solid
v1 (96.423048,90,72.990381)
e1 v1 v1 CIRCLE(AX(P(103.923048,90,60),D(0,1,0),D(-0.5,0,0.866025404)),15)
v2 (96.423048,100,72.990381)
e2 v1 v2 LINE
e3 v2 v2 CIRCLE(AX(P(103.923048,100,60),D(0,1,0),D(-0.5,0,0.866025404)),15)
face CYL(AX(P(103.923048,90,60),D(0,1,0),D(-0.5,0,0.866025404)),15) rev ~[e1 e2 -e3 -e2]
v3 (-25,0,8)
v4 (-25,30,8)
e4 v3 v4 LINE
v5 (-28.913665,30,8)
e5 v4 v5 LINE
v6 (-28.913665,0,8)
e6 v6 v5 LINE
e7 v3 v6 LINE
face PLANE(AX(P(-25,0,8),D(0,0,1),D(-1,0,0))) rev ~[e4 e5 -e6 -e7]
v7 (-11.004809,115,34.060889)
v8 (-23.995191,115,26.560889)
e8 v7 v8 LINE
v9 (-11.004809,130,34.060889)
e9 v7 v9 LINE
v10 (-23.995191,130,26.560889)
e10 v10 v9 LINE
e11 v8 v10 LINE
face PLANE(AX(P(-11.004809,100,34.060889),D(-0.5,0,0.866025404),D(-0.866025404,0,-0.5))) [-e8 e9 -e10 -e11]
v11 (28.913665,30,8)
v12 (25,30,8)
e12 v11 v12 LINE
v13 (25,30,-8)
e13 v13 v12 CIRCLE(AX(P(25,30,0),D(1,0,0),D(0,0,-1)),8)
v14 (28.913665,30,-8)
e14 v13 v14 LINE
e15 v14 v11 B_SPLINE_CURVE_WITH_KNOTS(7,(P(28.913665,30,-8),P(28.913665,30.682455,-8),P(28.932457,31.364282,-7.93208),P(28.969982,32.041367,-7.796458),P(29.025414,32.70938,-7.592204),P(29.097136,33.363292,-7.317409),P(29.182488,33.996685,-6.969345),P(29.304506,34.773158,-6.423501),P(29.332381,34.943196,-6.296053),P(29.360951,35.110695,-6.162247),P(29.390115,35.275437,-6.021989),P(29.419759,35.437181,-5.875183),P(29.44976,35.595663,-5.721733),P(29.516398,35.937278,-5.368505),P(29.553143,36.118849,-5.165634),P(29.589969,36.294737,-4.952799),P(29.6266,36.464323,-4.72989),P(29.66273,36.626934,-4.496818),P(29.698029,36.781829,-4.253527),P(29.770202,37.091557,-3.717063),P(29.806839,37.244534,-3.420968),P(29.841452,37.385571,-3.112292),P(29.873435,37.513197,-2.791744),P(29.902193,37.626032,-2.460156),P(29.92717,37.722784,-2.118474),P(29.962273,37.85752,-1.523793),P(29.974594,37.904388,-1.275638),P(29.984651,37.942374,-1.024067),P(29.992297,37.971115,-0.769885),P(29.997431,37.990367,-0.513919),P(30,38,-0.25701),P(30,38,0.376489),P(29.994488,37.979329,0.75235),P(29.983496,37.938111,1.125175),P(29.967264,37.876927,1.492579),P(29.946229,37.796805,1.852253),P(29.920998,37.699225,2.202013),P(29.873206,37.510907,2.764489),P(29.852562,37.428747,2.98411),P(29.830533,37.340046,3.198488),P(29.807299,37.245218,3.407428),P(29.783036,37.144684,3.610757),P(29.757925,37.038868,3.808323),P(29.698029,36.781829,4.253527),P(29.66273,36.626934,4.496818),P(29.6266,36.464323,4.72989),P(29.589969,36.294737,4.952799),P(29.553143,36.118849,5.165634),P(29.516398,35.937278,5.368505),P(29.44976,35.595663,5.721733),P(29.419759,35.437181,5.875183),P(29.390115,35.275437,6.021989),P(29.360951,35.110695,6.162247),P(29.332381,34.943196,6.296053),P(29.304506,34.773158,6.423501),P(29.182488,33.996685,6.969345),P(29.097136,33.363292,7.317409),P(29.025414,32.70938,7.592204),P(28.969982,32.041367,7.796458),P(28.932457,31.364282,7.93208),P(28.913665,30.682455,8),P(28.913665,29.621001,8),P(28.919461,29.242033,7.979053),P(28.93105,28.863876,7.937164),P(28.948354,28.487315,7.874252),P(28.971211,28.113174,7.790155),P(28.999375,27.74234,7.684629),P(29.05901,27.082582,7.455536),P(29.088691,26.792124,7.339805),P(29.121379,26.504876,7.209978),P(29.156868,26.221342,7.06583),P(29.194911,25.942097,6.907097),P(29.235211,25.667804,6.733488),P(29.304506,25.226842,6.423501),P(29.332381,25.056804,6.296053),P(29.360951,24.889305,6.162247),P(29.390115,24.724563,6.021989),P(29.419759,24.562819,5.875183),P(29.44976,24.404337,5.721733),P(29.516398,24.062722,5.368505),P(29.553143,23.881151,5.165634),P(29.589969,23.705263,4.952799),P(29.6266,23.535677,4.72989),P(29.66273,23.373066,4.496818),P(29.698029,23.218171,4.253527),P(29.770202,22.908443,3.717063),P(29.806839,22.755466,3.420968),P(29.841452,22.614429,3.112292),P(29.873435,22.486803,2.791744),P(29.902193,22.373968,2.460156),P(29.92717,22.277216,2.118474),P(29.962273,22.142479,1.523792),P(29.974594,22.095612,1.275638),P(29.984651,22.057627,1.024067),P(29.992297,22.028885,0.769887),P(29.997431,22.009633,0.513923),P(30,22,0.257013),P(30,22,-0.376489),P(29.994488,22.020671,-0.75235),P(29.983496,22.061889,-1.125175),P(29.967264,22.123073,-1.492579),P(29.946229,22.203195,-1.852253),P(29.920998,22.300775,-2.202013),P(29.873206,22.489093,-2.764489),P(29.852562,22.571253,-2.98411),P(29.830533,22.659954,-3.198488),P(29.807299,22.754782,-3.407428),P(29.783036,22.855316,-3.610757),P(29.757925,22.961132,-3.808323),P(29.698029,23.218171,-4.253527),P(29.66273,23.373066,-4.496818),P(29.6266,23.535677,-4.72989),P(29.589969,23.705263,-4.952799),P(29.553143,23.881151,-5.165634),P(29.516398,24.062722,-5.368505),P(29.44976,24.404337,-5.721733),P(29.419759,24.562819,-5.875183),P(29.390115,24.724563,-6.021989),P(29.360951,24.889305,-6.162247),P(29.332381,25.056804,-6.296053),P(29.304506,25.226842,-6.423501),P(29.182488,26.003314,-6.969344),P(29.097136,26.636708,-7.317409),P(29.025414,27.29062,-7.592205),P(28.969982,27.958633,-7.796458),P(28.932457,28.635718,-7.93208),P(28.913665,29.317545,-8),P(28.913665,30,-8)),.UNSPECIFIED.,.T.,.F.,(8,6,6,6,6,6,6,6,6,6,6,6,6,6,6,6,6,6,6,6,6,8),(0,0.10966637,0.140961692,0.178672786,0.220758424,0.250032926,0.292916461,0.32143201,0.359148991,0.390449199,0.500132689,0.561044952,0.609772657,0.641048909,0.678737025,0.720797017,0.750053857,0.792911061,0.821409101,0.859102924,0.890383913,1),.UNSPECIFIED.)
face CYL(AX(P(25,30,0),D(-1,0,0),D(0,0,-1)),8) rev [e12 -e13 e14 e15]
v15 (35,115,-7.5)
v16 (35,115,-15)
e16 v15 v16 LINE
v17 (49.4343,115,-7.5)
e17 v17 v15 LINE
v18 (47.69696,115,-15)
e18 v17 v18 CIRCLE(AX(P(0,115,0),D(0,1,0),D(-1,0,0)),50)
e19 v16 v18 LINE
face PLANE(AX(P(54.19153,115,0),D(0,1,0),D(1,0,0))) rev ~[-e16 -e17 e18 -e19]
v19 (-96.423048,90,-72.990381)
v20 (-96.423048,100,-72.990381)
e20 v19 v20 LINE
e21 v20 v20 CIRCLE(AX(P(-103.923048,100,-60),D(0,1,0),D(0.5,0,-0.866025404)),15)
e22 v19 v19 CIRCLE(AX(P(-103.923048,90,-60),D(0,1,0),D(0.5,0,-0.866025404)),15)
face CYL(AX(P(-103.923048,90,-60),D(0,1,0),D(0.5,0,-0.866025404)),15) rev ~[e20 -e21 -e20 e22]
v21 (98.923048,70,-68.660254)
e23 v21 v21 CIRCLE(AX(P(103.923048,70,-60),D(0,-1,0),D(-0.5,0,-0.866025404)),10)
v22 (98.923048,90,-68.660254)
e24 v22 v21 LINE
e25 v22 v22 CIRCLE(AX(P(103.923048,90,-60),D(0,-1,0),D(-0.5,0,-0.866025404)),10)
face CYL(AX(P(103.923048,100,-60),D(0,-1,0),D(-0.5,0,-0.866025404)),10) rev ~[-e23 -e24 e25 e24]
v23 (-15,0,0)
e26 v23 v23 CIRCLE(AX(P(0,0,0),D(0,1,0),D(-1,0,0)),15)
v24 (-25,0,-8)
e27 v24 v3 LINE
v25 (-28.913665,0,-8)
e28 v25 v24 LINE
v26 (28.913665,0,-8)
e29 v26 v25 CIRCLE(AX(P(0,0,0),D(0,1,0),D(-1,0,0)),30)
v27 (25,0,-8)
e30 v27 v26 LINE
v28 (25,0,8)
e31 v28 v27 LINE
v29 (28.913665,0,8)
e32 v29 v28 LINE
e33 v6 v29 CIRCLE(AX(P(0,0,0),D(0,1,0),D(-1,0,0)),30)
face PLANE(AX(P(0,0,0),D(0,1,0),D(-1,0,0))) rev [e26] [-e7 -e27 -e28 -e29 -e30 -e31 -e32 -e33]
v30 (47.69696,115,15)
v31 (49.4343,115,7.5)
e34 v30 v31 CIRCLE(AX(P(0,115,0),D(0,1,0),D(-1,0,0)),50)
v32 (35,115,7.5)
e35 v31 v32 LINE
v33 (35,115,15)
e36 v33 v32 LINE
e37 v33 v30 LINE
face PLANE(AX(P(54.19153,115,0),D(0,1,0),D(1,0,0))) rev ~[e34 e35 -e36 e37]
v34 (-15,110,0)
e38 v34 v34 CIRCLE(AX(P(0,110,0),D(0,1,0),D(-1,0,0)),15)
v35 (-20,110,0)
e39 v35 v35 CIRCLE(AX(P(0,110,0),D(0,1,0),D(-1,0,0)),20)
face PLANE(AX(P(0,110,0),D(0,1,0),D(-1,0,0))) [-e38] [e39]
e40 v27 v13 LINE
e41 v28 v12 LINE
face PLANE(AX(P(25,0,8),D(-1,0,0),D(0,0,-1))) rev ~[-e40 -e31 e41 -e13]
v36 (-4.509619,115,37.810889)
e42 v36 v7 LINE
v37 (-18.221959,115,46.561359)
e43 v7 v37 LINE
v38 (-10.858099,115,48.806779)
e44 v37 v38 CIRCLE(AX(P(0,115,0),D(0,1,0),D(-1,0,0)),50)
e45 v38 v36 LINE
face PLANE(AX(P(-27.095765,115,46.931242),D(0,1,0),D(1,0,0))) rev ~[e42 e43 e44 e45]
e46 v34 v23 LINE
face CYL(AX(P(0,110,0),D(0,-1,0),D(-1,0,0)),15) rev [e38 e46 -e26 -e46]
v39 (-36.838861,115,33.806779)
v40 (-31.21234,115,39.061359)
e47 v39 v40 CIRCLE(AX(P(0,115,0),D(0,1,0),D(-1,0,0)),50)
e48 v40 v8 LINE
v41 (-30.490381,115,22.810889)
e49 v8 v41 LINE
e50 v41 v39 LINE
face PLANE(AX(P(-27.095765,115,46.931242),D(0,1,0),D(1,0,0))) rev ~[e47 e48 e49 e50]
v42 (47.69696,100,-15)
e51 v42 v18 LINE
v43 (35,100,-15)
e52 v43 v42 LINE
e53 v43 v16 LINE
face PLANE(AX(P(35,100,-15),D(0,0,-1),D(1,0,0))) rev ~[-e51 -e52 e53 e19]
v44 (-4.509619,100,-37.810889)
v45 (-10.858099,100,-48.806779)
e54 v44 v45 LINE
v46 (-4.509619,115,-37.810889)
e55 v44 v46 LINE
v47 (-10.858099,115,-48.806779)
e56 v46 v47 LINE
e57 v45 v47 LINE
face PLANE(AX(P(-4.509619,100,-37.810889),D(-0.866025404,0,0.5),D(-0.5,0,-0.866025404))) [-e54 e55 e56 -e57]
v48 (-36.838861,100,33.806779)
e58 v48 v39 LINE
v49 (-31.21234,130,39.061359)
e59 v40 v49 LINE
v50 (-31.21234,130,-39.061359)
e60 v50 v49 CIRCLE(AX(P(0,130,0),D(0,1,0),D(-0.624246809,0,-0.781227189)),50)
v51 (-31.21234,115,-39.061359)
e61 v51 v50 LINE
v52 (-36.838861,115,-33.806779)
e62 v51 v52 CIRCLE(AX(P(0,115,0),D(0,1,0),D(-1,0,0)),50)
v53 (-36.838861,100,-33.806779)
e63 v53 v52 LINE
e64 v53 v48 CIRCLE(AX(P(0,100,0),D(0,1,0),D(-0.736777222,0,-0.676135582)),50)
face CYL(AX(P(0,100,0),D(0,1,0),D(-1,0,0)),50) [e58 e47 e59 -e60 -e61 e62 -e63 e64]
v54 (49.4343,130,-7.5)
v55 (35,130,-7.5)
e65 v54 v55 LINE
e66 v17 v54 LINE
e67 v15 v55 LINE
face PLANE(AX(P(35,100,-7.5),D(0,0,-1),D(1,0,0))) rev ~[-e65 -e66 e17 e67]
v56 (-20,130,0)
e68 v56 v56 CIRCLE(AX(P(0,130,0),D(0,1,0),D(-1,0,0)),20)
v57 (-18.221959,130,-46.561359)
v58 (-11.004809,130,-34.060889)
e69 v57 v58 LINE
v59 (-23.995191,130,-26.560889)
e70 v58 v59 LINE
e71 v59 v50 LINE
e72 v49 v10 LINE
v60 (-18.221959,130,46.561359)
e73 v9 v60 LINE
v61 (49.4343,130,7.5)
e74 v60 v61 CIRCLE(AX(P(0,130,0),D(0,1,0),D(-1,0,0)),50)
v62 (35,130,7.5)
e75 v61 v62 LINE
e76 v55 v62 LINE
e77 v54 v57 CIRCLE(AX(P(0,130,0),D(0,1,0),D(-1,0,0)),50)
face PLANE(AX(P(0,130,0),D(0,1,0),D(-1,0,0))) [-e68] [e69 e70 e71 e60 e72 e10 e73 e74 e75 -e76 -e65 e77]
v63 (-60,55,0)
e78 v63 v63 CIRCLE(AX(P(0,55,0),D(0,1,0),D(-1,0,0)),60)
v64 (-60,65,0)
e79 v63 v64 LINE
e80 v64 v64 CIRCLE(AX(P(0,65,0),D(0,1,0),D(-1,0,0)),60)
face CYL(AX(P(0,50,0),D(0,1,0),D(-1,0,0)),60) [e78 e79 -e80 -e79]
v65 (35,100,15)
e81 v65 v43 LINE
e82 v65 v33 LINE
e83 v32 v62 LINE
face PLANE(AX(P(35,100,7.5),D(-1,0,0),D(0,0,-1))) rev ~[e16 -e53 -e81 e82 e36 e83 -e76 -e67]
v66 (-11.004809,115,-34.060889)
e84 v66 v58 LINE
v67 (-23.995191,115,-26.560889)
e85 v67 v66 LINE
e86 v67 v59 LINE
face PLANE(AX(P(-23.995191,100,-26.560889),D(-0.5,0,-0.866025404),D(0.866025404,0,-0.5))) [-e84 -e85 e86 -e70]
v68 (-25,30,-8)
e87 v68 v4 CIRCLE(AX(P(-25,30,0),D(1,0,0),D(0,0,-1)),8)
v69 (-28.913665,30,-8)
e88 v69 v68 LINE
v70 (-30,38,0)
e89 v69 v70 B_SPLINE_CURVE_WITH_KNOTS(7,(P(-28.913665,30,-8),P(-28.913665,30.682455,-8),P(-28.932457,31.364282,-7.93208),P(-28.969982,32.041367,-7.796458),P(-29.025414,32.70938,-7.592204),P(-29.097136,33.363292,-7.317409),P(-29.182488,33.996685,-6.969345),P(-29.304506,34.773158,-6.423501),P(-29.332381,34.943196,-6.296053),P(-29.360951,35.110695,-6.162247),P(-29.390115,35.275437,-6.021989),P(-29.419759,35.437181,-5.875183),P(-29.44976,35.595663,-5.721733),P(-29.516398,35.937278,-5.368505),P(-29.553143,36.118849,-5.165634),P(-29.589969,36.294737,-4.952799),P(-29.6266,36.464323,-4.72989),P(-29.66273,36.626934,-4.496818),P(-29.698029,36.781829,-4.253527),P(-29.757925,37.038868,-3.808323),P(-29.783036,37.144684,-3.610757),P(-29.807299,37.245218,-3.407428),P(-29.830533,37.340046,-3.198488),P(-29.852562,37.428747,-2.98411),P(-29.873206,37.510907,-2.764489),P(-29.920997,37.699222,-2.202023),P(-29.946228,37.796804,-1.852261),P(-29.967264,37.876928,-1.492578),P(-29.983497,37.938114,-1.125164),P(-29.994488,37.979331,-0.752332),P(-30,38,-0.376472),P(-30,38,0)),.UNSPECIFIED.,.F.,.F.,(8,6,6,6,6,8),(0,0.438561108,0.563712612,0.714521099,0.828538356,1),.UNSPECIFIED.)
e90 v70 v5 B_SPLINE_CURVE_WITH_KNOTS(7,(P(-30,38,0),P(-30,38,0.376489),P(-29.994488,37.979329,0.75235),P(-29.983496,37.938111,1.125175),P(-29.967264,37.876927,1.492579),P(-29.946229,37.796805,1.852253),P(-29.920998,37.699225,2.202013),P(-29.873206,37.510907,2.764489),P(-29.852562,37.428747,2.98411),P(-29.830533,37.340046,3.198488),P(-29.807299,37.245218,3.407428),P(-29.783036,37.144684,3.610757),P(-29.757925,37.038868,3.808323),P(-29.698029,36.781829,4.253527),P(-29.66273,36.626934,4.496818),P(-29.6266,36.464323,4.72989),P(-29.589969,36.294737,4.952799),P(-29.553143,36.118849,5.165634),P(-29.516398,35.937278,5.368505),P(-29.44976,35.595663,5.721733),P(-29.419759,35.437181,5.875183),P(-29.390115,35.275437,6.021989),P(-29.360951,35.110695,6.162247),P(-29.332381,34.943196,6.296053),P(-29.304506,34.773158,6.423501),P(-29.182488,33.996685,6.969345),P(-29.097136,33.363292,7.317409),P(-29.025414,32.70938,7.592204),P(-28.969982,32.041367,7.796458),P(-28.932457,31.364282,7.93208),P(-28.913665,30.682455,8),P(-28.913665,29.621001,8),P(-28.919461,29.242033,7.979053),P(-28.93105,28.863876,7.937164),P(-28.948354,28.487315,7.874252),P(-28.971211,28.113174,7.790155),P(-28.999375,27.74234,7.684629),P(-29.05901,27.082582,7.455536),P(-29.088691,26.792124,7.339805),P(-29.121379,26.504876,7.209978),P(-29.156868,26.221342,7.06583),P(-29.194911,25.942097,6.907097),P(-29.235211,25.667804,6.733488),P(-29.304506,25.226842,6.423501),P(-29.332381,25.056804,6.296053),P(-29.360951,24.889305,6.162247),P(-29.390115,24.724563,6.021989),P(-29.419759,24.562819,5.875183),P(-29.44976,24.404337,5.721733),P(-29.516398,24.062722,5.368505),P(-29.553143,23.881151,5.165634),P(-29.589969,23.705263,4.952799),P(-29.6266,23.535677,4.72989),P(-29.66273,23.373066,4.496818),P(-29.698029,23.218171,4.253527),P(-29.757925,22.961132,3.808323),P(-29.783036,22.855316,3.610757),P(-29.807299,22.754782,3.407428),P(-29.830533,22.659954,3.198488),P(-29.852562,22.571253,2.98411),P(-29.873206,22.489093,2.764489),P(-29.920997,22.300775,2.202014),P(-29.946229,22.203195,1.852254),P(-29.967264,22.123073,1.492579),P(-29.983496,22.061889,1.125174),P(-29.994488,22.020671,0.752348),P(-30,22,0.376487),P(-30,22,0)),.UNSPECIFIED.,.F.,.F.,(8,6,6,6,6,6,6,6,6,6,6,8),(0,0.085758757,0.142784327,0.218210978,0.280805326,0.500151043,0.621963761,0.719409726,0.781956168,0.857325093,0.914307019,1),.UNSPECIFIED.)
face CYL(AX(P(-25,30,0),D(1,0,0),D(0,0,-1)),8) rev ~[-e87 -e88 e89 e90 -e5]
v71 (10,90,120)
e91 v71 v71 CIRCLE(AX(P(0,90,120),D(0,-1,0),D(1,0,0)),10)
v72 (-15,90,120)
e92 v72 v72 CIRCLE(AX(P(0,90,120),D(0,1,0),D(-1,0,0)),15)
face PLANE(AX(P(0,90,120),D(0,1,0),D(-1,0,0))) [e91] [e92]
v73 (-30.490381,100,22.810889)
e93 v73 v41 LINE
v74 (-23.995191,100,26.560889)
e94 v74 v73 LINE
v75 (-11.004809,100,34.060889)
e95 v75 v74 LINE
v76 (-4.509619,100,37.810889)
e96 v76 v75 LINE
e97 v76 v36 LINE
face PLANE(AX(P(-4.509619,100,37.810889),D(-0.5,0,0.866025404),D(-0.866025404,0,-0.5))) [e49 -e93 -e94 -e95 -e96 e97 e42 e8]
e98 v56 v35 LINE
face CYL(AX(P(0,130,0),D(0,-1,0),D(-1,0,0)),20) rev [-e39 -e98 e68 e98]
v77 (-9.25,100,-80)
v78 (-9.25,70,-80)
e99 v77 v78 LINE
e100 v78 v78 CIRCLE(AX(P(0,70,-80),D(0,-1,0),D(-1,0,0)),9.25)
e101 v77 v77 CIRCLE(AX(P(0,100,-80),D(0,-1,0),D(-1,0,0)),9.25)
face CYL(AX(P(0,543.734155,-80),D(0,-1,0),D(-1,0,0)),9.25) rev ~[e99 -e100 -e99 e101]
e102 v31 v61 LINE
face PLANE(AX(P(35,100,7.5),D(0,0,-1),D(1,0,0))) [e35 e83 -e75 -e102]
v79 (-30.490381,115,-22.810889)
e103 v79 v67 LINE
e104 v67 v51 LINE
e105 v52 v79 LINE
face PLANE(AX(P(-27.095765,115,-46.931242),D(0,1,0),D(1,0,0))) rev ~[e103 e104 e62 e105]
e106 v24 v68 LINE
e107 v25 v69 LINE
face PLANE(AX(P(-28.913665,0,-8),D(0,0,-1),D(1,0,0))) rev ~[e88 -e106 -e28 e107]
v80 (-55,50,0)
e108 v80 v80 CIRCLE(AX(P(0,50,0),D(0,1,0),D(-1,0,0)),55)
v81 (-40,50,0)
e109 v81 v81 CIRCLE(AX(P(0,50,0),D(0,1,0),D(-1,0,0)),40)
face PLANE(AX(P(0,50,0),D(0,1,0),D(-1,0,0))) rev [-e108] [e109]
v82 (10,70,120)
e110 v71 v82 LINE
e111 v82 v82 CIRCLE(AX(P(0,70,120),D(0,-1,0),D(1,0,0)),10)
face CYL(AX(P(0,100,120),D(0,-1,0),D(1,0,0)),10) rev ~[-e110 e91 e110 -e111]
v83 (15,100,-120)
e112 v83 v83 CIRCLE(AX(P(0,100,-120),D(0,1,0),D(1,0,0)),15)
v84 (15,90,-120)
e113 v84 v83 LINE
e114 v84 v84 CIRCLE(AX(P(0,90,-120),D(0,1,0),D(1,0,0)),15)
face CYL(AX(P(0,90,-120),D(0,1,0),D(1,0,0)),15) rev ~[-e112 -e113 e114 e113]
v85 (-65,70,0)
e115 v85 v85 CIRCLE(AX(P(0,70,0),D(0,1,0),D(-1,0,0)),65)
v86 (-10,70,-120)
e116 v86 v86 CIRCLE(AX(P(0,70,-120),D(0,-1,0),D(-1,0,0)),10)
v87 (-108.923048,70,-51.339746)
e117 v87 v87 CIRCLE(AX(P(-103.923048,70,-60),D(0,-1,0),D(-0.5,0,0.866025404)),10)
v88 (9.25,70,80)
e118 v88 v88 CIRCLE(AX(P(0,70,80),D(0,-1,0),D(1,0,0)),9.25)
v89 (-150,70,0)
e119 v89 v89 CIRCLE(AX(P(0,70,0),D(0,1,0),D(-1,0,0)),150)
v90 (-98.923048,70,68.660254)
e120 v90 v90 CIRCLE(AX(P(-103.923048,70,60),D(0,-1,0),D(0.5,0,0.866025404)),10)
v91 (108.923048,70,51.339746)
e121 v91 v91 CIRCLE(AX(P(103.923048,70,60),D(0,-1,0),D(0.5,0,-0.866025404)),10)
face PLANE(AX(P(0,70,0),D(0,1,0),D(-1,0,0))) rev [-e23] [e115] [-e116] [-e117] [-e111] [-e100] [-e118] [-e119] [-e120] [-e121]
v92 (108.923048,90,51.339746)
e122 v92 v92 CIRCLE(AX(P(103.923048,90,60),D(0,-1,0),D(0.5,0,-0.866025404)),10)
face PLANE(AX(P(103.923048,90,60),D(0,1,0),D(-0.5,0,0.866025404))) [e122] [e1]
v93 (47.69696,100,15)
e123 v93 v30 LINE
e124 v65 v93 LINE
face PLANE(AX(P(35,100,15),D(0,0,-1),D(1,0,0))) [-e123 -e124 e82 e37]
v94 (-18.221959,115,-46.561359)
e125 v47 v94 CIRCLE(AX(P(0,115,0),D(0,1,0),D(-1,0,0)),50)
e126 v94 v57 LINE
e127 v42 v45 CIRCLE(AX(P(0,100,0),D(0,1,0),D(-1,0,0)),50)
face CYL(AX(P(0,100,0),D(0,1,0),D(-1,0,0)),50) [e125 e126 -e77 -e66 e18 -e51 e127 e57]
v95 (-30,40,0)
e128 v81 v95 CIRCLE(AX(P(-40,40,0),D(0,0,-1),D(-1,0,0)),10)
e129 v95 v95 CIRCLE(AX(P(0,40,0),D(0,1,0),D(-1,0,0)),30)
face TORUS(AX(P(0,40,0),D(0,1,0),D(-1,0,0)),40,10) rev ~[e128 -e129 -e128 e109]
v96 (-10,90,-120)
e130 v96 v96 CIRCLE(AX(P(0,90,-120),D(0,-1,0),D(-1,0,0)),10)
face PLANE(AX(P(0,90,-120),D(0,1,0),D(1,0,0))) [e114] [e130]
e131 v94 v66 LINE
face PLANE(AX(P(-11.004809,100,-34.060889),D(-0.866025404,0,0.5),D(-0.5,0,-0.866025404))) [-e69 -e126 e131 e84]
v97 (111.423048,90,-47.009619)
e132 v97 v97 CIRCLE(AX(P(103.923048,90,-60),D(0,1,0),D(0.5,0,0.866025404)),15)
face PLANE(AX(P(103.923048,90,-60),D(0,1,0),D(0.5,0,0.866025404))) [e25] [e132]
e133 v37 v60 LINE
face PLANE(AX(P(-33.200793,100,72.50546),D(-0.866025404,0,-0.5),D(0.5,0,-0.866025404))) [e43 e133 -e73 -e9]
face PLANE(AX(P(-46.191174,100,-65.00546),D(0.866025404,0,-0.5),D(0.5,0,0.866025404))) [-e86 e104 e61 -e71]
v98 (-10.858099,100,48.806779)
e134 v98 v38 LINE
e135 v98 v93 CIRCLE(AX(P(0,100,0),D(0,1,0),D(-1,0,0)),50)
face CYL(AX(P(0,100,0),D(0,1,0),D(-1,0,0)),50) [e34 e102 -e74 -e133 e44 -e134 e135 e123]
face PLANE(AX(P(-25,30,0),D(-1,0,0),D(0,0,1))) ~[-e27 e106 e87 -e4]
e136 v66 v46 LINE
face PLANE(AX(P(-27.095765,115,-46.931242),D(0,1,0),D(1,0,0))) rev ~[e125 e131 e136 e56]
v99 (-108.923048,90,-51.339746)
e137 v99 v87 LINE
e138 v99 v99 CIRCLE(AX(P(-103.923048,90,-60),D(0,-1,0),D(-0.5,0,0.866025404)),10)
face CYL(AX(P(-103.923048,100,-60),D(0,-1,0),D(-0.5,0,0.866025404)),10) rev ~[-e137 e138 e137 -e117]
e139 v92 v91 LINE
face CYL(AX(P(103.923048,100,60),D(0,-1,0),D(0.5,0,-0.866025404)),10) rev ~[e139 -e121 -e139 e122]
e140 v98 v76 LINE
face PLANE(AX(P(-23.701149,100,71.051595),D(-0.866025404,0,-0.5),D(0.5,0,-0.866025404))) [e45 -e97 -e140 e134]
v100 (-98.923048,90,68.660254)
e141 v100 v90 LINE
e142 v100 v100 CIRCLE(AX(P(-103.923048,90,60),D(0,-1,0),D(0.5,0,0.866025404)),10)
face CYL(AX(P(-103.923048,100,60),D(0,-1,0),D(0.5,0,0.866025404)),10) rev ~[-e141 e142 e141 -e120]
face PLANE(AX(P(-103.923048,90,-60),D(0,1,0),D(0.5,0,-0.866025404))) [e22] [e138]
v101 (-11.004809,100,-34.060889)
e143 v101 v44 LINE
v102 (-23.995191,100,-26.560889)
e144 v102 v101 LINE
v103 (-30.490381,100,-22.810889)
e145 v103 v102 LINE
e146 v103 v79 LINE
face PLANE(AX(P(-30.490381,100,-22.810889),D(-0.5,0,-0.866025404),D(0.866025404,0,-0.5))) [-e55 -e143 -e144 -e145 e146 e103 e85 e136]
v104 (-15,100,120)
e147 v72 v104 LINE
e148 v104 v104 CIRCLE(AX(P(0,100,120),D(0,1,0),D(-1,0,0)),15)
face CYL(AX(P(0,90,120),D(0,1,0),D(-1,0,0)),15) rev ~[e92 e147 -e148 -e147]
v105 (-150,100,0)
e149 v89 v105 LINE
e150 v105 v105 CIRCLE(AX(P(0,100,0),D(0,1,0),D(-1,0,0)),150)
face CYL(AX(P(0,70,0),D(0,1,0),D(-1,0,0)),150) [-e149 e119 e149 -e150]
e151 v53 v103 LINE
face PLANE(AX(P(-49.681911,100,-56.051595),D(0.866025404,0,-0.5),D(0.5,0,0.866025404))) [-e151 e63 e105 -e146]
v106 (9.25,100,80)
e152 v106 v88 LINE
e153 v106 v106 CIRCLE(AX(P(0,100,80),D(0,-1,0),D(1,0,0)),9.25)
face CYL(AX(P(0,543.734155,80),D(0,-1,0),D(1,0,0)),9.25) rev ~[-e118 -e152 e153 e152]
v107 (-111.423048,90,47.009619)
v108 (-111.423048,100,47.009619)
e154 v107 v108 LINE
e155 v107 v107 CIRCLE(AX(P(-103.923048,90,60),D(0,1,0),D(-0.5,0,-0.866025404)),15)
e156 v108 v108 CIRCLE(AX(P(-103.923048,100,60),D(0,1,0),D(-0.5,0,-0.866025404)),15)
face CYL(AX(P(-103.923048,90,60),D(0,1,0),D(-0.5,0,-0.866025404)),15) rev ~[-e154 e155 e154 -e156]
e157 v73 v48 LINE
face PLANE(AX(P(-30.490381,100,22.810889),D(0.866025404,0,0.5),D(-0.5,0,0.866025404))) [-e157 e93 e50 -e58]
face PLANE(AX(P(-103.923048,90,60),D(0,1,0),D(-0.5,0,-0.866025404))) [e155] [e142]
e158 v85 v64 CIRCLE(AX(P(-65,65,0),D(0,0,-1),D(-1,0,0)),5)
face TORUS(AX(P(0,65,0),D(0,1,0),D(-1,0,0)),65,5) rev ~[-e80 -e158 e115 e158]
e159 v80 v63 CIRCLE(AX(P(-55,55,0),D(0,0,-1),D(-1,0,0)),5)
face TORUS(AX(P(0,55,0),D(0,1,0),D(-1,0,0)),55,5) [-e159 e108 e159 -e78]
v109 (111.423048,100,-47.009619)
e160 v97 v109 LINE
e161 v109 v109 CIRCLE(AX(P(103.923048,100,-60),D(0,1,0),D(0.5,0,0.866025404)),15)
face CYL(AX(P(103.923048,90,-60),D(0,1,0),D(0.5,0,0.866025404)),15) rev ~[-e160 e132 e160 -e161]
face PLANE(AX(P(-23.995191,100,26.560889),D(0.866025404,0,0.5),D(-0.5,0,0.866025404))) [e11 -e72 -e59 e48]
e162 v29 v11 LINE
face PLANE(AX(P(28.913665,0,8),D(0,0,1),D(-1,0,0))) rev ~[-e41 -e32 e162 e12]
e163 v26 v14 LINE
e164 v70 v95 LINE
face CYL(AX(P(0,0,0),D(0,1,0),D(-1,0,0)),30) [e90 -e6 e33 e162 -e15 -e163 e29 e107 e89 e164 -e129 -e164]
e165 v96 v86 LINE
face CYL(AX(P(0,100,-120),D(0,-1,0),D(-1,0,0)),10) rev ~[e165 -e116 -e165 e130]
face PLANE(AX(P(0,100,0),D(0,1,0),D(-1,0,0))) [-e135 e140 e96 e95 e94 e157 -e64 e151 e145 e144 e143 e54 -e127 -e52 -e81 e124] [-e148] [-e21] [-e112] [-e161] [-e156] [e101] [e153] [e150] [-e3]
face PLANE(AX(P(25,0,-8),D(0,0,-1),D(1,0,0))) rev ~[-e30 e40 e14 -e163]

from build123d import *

# Parameters (mm, degrees)
SKETCH4_W                               = 38.383060538
SKETCH4_H                               = 30
CUT_EXTRUDE1_DEPTH                      = 15
SKETCH5_W                               = 44.391966134
SKETCH5_H                               = 15
CUT_EXTRUDE2_DEPTH                      = 31
CBORE_FOR_M5_HEX_HEAD_BOLT1_D           = 20
CBORE_FOR_M5_HEX_HEAD_BOLT1_CBORE_D     = 30
CBORE_FOR_M5_HEX_HEAD_BOLT1_CBORE_DEPTH = 10
CIRPATTERN1_COUNT                       = 6
TAP_DRILL_FOR_M20X1_5_TAP1_D            = 18.5
CIRPATTERN2_COUNT                       = 2
CUT_EXTRUDE4_DEPTH                      = 30
FILLET1_R                               = 5
FILLET2_R                               = 10
SKETCH13_R                              = 8
CUT_EXTRUDE5_DEPTH                      = 126


with BuildPart() as part:
    # Sketch2 → Revolve1 (revolve)
    with BuildSketch(Plane.XY):
        Polygon((-20, 130), (-20, 110), (-15, 110), (-15, 0), (-30, 0), (-30, 50), (-60, 50), (-60, 70), (-150, 70), (-150, 100), (-50, 100), (-50, 130), align=None)
    revolve(axis=Axis((0, 0, 0), (0, 1, 0)))

    # Sketch4 → Cut-Extrude1 (cut)
    with BuildSketch(Plane(origin=(0, 100, 0), x_dir=(1, 0, 0), z_dir=(0, 1, 0))):
        Polygon((-49.681911326, -56.051594634), (-23.701149212, -71.051594634), (-4.509618943, -37.810889132), (-30.490381057, -22.810889132), align=None)
        with Locations((54.191530269, 0)):
            Rectangle(SKETCH4_W, SKETCH4_H)
        Polygon((-23.701149212, 71.051594634), (-49.681911326, 56.051594634), (-30.490381057, 22.810889132), (-4.509618943, 37.810889132), align=None)
    extrude(amount=CUT_EXTRUDE1_DEPTH, mode=Mode.SUBTRACT)

    # Sketch5 → Cut-Extrude2 (cut, through all)
    with BuildSketch(Plane(origin=(0, 100, 0), x_dir=(1, 0, 0), z_dir=(0, 1, 0))):
        Polygon((-46.191173595, -65.005459528), (-33.200792538, -72.505459528), (-11.004809472, -34.060889132), (-23.995190528, -26.560889132), align=None)
        with Locations((57.195983067, 0)):
            Rectangle(SKETCH5_W, SKETCH5_H)
        Polygon((-33.200792538, 72.505459528), (-46.191173595, 65.005459528), (-23.995190528, 26.560889132), (-11.004809472, 34.060889132), align=None)
    extrude(amount=CUT_EXTRUDE2_DEPTH, mode=Mode.SUBTRACT)

    # CBORE for M5 Hex Head Bolt1 (through all)
    with Locations(Plane(origin=(0, 100, 0), x_dir=(1, 0, 0), z_dir=(0, 1, 0))):
        with Locations((0, 120)):
            cbore_for_m5_hex_head_bolt1 = CounterBoreHole(CBORE_FOR_M5_HEX_HEAD_BOLT1_D / 2, CBORE_FOR_M5_HEX_HEAD_BOLT1_CBORE_D / 2, CBORE_FOR_M5_HEX_HEAD_BOLT1_CBORE_DEPTH)

    # CirPattern1: CBORE for M5 Hex Head Bolt1 ×6 about axis
    cirpattern1_axis = Axis((0, 0, 0), (0, 1, 0))
    for i in range(1, CIRPATTERN1_COUNT):
        add(cbore_for_m5_hex_head_bolt1.rotate(cirpattern1_axis, i * 360 / CIRPATTERN1_COUNT), mode=Mode.SUBTRACT)

    # Tap Drill for M20x1.5 Tap1 (through all)
    with Locations(Plane(origin=(0, 100, 0), x_dir=(1, 0, 0), z_dir=(0, 1, 0))):
        with Locations((0, 80)):
            tap_drill_for_m20x1_5_tap1 = Hole(TAP_DRILL_FOR_M20X1_5_TAP1_D / 2)

    # CirPattern2: Tap Drill for M20x1.5 Tap1 ×2 about axis
    cirpattern2_axis = Axis((0, 0, 0), (0, 1, 0))
    for i in range(1, CIRPATTERN2_COUNT):
        add(tap_drill_for_m20x1_5_tap1.rotate(cirpattern2_axis, i * 360 / CIRPATTERN2_COUNT), mode=Mode.SUBTRACT)

    # Sketch12 → Cut-Extrude4 (cut)
    with BuildSketch(Plane.XZ):
        with BuildLine():
            Line((-28.91366459, -8), (-25, -8))
            Line((-25, -8), (-25, 8))
            Line((-25, 8), (-28.91366459, 8))
            ThreePointArc((-28.91366459, 8), (-30, 0), (-28.91366459, -8))
        make_face()
        with BuildLine():
            Line((25, 8), (25, -8))
            Line((25, -8), (28.91366459, -8))
            ThreePointArc((28.91366459, -8), (30, 0), (28.91366459, 8))
            Line((28.91366459, 8), (25, 8))
        make_face()
    extrude(amount=-CUT_EXTRUDE4_DEPTH, mode=Mode.SUBTRACT)

    # Fillet1
    fillet1_edges = [part.edges().sort_by_distance(p)[0] for p in [
        (60, 70, 0),
        (60, 50, 0),
    ]]
    fillet(fillet1_edges, radius=FILLET1_R)

    # Fillet2
    fillet2_edges = [part.edges().sort_by_distance(p)[0] for p in [
        (30, 50, 0),
    ]]
    fillet(fillet2_edges, radius=FILLET2_R)

    # Sketch13 → Cut-Extrude5 (cut, through all)
    with BuildSketch(Plane(origin=(25, 0, 0), x_dir=(0, 0, -1), z_dir=(1, 0, 0))):
        with Locations((0, 30)):
            Circle(SKETCH13_R)
    cut_extrude5 = extrude(amount=CUT_EXTRUDE5_DEPTH, mode=Mode.SUBTRACT)

    # Mirror1: Cut-Extrude5 across plane
    add(cut_extrude5.mirror(Plane(origin=(0, 0, 0), x_dir=(0, 0, 1), z_dir=(1, 0, 0))), mode=Mode.SUBTRACT)


solid = part.part
